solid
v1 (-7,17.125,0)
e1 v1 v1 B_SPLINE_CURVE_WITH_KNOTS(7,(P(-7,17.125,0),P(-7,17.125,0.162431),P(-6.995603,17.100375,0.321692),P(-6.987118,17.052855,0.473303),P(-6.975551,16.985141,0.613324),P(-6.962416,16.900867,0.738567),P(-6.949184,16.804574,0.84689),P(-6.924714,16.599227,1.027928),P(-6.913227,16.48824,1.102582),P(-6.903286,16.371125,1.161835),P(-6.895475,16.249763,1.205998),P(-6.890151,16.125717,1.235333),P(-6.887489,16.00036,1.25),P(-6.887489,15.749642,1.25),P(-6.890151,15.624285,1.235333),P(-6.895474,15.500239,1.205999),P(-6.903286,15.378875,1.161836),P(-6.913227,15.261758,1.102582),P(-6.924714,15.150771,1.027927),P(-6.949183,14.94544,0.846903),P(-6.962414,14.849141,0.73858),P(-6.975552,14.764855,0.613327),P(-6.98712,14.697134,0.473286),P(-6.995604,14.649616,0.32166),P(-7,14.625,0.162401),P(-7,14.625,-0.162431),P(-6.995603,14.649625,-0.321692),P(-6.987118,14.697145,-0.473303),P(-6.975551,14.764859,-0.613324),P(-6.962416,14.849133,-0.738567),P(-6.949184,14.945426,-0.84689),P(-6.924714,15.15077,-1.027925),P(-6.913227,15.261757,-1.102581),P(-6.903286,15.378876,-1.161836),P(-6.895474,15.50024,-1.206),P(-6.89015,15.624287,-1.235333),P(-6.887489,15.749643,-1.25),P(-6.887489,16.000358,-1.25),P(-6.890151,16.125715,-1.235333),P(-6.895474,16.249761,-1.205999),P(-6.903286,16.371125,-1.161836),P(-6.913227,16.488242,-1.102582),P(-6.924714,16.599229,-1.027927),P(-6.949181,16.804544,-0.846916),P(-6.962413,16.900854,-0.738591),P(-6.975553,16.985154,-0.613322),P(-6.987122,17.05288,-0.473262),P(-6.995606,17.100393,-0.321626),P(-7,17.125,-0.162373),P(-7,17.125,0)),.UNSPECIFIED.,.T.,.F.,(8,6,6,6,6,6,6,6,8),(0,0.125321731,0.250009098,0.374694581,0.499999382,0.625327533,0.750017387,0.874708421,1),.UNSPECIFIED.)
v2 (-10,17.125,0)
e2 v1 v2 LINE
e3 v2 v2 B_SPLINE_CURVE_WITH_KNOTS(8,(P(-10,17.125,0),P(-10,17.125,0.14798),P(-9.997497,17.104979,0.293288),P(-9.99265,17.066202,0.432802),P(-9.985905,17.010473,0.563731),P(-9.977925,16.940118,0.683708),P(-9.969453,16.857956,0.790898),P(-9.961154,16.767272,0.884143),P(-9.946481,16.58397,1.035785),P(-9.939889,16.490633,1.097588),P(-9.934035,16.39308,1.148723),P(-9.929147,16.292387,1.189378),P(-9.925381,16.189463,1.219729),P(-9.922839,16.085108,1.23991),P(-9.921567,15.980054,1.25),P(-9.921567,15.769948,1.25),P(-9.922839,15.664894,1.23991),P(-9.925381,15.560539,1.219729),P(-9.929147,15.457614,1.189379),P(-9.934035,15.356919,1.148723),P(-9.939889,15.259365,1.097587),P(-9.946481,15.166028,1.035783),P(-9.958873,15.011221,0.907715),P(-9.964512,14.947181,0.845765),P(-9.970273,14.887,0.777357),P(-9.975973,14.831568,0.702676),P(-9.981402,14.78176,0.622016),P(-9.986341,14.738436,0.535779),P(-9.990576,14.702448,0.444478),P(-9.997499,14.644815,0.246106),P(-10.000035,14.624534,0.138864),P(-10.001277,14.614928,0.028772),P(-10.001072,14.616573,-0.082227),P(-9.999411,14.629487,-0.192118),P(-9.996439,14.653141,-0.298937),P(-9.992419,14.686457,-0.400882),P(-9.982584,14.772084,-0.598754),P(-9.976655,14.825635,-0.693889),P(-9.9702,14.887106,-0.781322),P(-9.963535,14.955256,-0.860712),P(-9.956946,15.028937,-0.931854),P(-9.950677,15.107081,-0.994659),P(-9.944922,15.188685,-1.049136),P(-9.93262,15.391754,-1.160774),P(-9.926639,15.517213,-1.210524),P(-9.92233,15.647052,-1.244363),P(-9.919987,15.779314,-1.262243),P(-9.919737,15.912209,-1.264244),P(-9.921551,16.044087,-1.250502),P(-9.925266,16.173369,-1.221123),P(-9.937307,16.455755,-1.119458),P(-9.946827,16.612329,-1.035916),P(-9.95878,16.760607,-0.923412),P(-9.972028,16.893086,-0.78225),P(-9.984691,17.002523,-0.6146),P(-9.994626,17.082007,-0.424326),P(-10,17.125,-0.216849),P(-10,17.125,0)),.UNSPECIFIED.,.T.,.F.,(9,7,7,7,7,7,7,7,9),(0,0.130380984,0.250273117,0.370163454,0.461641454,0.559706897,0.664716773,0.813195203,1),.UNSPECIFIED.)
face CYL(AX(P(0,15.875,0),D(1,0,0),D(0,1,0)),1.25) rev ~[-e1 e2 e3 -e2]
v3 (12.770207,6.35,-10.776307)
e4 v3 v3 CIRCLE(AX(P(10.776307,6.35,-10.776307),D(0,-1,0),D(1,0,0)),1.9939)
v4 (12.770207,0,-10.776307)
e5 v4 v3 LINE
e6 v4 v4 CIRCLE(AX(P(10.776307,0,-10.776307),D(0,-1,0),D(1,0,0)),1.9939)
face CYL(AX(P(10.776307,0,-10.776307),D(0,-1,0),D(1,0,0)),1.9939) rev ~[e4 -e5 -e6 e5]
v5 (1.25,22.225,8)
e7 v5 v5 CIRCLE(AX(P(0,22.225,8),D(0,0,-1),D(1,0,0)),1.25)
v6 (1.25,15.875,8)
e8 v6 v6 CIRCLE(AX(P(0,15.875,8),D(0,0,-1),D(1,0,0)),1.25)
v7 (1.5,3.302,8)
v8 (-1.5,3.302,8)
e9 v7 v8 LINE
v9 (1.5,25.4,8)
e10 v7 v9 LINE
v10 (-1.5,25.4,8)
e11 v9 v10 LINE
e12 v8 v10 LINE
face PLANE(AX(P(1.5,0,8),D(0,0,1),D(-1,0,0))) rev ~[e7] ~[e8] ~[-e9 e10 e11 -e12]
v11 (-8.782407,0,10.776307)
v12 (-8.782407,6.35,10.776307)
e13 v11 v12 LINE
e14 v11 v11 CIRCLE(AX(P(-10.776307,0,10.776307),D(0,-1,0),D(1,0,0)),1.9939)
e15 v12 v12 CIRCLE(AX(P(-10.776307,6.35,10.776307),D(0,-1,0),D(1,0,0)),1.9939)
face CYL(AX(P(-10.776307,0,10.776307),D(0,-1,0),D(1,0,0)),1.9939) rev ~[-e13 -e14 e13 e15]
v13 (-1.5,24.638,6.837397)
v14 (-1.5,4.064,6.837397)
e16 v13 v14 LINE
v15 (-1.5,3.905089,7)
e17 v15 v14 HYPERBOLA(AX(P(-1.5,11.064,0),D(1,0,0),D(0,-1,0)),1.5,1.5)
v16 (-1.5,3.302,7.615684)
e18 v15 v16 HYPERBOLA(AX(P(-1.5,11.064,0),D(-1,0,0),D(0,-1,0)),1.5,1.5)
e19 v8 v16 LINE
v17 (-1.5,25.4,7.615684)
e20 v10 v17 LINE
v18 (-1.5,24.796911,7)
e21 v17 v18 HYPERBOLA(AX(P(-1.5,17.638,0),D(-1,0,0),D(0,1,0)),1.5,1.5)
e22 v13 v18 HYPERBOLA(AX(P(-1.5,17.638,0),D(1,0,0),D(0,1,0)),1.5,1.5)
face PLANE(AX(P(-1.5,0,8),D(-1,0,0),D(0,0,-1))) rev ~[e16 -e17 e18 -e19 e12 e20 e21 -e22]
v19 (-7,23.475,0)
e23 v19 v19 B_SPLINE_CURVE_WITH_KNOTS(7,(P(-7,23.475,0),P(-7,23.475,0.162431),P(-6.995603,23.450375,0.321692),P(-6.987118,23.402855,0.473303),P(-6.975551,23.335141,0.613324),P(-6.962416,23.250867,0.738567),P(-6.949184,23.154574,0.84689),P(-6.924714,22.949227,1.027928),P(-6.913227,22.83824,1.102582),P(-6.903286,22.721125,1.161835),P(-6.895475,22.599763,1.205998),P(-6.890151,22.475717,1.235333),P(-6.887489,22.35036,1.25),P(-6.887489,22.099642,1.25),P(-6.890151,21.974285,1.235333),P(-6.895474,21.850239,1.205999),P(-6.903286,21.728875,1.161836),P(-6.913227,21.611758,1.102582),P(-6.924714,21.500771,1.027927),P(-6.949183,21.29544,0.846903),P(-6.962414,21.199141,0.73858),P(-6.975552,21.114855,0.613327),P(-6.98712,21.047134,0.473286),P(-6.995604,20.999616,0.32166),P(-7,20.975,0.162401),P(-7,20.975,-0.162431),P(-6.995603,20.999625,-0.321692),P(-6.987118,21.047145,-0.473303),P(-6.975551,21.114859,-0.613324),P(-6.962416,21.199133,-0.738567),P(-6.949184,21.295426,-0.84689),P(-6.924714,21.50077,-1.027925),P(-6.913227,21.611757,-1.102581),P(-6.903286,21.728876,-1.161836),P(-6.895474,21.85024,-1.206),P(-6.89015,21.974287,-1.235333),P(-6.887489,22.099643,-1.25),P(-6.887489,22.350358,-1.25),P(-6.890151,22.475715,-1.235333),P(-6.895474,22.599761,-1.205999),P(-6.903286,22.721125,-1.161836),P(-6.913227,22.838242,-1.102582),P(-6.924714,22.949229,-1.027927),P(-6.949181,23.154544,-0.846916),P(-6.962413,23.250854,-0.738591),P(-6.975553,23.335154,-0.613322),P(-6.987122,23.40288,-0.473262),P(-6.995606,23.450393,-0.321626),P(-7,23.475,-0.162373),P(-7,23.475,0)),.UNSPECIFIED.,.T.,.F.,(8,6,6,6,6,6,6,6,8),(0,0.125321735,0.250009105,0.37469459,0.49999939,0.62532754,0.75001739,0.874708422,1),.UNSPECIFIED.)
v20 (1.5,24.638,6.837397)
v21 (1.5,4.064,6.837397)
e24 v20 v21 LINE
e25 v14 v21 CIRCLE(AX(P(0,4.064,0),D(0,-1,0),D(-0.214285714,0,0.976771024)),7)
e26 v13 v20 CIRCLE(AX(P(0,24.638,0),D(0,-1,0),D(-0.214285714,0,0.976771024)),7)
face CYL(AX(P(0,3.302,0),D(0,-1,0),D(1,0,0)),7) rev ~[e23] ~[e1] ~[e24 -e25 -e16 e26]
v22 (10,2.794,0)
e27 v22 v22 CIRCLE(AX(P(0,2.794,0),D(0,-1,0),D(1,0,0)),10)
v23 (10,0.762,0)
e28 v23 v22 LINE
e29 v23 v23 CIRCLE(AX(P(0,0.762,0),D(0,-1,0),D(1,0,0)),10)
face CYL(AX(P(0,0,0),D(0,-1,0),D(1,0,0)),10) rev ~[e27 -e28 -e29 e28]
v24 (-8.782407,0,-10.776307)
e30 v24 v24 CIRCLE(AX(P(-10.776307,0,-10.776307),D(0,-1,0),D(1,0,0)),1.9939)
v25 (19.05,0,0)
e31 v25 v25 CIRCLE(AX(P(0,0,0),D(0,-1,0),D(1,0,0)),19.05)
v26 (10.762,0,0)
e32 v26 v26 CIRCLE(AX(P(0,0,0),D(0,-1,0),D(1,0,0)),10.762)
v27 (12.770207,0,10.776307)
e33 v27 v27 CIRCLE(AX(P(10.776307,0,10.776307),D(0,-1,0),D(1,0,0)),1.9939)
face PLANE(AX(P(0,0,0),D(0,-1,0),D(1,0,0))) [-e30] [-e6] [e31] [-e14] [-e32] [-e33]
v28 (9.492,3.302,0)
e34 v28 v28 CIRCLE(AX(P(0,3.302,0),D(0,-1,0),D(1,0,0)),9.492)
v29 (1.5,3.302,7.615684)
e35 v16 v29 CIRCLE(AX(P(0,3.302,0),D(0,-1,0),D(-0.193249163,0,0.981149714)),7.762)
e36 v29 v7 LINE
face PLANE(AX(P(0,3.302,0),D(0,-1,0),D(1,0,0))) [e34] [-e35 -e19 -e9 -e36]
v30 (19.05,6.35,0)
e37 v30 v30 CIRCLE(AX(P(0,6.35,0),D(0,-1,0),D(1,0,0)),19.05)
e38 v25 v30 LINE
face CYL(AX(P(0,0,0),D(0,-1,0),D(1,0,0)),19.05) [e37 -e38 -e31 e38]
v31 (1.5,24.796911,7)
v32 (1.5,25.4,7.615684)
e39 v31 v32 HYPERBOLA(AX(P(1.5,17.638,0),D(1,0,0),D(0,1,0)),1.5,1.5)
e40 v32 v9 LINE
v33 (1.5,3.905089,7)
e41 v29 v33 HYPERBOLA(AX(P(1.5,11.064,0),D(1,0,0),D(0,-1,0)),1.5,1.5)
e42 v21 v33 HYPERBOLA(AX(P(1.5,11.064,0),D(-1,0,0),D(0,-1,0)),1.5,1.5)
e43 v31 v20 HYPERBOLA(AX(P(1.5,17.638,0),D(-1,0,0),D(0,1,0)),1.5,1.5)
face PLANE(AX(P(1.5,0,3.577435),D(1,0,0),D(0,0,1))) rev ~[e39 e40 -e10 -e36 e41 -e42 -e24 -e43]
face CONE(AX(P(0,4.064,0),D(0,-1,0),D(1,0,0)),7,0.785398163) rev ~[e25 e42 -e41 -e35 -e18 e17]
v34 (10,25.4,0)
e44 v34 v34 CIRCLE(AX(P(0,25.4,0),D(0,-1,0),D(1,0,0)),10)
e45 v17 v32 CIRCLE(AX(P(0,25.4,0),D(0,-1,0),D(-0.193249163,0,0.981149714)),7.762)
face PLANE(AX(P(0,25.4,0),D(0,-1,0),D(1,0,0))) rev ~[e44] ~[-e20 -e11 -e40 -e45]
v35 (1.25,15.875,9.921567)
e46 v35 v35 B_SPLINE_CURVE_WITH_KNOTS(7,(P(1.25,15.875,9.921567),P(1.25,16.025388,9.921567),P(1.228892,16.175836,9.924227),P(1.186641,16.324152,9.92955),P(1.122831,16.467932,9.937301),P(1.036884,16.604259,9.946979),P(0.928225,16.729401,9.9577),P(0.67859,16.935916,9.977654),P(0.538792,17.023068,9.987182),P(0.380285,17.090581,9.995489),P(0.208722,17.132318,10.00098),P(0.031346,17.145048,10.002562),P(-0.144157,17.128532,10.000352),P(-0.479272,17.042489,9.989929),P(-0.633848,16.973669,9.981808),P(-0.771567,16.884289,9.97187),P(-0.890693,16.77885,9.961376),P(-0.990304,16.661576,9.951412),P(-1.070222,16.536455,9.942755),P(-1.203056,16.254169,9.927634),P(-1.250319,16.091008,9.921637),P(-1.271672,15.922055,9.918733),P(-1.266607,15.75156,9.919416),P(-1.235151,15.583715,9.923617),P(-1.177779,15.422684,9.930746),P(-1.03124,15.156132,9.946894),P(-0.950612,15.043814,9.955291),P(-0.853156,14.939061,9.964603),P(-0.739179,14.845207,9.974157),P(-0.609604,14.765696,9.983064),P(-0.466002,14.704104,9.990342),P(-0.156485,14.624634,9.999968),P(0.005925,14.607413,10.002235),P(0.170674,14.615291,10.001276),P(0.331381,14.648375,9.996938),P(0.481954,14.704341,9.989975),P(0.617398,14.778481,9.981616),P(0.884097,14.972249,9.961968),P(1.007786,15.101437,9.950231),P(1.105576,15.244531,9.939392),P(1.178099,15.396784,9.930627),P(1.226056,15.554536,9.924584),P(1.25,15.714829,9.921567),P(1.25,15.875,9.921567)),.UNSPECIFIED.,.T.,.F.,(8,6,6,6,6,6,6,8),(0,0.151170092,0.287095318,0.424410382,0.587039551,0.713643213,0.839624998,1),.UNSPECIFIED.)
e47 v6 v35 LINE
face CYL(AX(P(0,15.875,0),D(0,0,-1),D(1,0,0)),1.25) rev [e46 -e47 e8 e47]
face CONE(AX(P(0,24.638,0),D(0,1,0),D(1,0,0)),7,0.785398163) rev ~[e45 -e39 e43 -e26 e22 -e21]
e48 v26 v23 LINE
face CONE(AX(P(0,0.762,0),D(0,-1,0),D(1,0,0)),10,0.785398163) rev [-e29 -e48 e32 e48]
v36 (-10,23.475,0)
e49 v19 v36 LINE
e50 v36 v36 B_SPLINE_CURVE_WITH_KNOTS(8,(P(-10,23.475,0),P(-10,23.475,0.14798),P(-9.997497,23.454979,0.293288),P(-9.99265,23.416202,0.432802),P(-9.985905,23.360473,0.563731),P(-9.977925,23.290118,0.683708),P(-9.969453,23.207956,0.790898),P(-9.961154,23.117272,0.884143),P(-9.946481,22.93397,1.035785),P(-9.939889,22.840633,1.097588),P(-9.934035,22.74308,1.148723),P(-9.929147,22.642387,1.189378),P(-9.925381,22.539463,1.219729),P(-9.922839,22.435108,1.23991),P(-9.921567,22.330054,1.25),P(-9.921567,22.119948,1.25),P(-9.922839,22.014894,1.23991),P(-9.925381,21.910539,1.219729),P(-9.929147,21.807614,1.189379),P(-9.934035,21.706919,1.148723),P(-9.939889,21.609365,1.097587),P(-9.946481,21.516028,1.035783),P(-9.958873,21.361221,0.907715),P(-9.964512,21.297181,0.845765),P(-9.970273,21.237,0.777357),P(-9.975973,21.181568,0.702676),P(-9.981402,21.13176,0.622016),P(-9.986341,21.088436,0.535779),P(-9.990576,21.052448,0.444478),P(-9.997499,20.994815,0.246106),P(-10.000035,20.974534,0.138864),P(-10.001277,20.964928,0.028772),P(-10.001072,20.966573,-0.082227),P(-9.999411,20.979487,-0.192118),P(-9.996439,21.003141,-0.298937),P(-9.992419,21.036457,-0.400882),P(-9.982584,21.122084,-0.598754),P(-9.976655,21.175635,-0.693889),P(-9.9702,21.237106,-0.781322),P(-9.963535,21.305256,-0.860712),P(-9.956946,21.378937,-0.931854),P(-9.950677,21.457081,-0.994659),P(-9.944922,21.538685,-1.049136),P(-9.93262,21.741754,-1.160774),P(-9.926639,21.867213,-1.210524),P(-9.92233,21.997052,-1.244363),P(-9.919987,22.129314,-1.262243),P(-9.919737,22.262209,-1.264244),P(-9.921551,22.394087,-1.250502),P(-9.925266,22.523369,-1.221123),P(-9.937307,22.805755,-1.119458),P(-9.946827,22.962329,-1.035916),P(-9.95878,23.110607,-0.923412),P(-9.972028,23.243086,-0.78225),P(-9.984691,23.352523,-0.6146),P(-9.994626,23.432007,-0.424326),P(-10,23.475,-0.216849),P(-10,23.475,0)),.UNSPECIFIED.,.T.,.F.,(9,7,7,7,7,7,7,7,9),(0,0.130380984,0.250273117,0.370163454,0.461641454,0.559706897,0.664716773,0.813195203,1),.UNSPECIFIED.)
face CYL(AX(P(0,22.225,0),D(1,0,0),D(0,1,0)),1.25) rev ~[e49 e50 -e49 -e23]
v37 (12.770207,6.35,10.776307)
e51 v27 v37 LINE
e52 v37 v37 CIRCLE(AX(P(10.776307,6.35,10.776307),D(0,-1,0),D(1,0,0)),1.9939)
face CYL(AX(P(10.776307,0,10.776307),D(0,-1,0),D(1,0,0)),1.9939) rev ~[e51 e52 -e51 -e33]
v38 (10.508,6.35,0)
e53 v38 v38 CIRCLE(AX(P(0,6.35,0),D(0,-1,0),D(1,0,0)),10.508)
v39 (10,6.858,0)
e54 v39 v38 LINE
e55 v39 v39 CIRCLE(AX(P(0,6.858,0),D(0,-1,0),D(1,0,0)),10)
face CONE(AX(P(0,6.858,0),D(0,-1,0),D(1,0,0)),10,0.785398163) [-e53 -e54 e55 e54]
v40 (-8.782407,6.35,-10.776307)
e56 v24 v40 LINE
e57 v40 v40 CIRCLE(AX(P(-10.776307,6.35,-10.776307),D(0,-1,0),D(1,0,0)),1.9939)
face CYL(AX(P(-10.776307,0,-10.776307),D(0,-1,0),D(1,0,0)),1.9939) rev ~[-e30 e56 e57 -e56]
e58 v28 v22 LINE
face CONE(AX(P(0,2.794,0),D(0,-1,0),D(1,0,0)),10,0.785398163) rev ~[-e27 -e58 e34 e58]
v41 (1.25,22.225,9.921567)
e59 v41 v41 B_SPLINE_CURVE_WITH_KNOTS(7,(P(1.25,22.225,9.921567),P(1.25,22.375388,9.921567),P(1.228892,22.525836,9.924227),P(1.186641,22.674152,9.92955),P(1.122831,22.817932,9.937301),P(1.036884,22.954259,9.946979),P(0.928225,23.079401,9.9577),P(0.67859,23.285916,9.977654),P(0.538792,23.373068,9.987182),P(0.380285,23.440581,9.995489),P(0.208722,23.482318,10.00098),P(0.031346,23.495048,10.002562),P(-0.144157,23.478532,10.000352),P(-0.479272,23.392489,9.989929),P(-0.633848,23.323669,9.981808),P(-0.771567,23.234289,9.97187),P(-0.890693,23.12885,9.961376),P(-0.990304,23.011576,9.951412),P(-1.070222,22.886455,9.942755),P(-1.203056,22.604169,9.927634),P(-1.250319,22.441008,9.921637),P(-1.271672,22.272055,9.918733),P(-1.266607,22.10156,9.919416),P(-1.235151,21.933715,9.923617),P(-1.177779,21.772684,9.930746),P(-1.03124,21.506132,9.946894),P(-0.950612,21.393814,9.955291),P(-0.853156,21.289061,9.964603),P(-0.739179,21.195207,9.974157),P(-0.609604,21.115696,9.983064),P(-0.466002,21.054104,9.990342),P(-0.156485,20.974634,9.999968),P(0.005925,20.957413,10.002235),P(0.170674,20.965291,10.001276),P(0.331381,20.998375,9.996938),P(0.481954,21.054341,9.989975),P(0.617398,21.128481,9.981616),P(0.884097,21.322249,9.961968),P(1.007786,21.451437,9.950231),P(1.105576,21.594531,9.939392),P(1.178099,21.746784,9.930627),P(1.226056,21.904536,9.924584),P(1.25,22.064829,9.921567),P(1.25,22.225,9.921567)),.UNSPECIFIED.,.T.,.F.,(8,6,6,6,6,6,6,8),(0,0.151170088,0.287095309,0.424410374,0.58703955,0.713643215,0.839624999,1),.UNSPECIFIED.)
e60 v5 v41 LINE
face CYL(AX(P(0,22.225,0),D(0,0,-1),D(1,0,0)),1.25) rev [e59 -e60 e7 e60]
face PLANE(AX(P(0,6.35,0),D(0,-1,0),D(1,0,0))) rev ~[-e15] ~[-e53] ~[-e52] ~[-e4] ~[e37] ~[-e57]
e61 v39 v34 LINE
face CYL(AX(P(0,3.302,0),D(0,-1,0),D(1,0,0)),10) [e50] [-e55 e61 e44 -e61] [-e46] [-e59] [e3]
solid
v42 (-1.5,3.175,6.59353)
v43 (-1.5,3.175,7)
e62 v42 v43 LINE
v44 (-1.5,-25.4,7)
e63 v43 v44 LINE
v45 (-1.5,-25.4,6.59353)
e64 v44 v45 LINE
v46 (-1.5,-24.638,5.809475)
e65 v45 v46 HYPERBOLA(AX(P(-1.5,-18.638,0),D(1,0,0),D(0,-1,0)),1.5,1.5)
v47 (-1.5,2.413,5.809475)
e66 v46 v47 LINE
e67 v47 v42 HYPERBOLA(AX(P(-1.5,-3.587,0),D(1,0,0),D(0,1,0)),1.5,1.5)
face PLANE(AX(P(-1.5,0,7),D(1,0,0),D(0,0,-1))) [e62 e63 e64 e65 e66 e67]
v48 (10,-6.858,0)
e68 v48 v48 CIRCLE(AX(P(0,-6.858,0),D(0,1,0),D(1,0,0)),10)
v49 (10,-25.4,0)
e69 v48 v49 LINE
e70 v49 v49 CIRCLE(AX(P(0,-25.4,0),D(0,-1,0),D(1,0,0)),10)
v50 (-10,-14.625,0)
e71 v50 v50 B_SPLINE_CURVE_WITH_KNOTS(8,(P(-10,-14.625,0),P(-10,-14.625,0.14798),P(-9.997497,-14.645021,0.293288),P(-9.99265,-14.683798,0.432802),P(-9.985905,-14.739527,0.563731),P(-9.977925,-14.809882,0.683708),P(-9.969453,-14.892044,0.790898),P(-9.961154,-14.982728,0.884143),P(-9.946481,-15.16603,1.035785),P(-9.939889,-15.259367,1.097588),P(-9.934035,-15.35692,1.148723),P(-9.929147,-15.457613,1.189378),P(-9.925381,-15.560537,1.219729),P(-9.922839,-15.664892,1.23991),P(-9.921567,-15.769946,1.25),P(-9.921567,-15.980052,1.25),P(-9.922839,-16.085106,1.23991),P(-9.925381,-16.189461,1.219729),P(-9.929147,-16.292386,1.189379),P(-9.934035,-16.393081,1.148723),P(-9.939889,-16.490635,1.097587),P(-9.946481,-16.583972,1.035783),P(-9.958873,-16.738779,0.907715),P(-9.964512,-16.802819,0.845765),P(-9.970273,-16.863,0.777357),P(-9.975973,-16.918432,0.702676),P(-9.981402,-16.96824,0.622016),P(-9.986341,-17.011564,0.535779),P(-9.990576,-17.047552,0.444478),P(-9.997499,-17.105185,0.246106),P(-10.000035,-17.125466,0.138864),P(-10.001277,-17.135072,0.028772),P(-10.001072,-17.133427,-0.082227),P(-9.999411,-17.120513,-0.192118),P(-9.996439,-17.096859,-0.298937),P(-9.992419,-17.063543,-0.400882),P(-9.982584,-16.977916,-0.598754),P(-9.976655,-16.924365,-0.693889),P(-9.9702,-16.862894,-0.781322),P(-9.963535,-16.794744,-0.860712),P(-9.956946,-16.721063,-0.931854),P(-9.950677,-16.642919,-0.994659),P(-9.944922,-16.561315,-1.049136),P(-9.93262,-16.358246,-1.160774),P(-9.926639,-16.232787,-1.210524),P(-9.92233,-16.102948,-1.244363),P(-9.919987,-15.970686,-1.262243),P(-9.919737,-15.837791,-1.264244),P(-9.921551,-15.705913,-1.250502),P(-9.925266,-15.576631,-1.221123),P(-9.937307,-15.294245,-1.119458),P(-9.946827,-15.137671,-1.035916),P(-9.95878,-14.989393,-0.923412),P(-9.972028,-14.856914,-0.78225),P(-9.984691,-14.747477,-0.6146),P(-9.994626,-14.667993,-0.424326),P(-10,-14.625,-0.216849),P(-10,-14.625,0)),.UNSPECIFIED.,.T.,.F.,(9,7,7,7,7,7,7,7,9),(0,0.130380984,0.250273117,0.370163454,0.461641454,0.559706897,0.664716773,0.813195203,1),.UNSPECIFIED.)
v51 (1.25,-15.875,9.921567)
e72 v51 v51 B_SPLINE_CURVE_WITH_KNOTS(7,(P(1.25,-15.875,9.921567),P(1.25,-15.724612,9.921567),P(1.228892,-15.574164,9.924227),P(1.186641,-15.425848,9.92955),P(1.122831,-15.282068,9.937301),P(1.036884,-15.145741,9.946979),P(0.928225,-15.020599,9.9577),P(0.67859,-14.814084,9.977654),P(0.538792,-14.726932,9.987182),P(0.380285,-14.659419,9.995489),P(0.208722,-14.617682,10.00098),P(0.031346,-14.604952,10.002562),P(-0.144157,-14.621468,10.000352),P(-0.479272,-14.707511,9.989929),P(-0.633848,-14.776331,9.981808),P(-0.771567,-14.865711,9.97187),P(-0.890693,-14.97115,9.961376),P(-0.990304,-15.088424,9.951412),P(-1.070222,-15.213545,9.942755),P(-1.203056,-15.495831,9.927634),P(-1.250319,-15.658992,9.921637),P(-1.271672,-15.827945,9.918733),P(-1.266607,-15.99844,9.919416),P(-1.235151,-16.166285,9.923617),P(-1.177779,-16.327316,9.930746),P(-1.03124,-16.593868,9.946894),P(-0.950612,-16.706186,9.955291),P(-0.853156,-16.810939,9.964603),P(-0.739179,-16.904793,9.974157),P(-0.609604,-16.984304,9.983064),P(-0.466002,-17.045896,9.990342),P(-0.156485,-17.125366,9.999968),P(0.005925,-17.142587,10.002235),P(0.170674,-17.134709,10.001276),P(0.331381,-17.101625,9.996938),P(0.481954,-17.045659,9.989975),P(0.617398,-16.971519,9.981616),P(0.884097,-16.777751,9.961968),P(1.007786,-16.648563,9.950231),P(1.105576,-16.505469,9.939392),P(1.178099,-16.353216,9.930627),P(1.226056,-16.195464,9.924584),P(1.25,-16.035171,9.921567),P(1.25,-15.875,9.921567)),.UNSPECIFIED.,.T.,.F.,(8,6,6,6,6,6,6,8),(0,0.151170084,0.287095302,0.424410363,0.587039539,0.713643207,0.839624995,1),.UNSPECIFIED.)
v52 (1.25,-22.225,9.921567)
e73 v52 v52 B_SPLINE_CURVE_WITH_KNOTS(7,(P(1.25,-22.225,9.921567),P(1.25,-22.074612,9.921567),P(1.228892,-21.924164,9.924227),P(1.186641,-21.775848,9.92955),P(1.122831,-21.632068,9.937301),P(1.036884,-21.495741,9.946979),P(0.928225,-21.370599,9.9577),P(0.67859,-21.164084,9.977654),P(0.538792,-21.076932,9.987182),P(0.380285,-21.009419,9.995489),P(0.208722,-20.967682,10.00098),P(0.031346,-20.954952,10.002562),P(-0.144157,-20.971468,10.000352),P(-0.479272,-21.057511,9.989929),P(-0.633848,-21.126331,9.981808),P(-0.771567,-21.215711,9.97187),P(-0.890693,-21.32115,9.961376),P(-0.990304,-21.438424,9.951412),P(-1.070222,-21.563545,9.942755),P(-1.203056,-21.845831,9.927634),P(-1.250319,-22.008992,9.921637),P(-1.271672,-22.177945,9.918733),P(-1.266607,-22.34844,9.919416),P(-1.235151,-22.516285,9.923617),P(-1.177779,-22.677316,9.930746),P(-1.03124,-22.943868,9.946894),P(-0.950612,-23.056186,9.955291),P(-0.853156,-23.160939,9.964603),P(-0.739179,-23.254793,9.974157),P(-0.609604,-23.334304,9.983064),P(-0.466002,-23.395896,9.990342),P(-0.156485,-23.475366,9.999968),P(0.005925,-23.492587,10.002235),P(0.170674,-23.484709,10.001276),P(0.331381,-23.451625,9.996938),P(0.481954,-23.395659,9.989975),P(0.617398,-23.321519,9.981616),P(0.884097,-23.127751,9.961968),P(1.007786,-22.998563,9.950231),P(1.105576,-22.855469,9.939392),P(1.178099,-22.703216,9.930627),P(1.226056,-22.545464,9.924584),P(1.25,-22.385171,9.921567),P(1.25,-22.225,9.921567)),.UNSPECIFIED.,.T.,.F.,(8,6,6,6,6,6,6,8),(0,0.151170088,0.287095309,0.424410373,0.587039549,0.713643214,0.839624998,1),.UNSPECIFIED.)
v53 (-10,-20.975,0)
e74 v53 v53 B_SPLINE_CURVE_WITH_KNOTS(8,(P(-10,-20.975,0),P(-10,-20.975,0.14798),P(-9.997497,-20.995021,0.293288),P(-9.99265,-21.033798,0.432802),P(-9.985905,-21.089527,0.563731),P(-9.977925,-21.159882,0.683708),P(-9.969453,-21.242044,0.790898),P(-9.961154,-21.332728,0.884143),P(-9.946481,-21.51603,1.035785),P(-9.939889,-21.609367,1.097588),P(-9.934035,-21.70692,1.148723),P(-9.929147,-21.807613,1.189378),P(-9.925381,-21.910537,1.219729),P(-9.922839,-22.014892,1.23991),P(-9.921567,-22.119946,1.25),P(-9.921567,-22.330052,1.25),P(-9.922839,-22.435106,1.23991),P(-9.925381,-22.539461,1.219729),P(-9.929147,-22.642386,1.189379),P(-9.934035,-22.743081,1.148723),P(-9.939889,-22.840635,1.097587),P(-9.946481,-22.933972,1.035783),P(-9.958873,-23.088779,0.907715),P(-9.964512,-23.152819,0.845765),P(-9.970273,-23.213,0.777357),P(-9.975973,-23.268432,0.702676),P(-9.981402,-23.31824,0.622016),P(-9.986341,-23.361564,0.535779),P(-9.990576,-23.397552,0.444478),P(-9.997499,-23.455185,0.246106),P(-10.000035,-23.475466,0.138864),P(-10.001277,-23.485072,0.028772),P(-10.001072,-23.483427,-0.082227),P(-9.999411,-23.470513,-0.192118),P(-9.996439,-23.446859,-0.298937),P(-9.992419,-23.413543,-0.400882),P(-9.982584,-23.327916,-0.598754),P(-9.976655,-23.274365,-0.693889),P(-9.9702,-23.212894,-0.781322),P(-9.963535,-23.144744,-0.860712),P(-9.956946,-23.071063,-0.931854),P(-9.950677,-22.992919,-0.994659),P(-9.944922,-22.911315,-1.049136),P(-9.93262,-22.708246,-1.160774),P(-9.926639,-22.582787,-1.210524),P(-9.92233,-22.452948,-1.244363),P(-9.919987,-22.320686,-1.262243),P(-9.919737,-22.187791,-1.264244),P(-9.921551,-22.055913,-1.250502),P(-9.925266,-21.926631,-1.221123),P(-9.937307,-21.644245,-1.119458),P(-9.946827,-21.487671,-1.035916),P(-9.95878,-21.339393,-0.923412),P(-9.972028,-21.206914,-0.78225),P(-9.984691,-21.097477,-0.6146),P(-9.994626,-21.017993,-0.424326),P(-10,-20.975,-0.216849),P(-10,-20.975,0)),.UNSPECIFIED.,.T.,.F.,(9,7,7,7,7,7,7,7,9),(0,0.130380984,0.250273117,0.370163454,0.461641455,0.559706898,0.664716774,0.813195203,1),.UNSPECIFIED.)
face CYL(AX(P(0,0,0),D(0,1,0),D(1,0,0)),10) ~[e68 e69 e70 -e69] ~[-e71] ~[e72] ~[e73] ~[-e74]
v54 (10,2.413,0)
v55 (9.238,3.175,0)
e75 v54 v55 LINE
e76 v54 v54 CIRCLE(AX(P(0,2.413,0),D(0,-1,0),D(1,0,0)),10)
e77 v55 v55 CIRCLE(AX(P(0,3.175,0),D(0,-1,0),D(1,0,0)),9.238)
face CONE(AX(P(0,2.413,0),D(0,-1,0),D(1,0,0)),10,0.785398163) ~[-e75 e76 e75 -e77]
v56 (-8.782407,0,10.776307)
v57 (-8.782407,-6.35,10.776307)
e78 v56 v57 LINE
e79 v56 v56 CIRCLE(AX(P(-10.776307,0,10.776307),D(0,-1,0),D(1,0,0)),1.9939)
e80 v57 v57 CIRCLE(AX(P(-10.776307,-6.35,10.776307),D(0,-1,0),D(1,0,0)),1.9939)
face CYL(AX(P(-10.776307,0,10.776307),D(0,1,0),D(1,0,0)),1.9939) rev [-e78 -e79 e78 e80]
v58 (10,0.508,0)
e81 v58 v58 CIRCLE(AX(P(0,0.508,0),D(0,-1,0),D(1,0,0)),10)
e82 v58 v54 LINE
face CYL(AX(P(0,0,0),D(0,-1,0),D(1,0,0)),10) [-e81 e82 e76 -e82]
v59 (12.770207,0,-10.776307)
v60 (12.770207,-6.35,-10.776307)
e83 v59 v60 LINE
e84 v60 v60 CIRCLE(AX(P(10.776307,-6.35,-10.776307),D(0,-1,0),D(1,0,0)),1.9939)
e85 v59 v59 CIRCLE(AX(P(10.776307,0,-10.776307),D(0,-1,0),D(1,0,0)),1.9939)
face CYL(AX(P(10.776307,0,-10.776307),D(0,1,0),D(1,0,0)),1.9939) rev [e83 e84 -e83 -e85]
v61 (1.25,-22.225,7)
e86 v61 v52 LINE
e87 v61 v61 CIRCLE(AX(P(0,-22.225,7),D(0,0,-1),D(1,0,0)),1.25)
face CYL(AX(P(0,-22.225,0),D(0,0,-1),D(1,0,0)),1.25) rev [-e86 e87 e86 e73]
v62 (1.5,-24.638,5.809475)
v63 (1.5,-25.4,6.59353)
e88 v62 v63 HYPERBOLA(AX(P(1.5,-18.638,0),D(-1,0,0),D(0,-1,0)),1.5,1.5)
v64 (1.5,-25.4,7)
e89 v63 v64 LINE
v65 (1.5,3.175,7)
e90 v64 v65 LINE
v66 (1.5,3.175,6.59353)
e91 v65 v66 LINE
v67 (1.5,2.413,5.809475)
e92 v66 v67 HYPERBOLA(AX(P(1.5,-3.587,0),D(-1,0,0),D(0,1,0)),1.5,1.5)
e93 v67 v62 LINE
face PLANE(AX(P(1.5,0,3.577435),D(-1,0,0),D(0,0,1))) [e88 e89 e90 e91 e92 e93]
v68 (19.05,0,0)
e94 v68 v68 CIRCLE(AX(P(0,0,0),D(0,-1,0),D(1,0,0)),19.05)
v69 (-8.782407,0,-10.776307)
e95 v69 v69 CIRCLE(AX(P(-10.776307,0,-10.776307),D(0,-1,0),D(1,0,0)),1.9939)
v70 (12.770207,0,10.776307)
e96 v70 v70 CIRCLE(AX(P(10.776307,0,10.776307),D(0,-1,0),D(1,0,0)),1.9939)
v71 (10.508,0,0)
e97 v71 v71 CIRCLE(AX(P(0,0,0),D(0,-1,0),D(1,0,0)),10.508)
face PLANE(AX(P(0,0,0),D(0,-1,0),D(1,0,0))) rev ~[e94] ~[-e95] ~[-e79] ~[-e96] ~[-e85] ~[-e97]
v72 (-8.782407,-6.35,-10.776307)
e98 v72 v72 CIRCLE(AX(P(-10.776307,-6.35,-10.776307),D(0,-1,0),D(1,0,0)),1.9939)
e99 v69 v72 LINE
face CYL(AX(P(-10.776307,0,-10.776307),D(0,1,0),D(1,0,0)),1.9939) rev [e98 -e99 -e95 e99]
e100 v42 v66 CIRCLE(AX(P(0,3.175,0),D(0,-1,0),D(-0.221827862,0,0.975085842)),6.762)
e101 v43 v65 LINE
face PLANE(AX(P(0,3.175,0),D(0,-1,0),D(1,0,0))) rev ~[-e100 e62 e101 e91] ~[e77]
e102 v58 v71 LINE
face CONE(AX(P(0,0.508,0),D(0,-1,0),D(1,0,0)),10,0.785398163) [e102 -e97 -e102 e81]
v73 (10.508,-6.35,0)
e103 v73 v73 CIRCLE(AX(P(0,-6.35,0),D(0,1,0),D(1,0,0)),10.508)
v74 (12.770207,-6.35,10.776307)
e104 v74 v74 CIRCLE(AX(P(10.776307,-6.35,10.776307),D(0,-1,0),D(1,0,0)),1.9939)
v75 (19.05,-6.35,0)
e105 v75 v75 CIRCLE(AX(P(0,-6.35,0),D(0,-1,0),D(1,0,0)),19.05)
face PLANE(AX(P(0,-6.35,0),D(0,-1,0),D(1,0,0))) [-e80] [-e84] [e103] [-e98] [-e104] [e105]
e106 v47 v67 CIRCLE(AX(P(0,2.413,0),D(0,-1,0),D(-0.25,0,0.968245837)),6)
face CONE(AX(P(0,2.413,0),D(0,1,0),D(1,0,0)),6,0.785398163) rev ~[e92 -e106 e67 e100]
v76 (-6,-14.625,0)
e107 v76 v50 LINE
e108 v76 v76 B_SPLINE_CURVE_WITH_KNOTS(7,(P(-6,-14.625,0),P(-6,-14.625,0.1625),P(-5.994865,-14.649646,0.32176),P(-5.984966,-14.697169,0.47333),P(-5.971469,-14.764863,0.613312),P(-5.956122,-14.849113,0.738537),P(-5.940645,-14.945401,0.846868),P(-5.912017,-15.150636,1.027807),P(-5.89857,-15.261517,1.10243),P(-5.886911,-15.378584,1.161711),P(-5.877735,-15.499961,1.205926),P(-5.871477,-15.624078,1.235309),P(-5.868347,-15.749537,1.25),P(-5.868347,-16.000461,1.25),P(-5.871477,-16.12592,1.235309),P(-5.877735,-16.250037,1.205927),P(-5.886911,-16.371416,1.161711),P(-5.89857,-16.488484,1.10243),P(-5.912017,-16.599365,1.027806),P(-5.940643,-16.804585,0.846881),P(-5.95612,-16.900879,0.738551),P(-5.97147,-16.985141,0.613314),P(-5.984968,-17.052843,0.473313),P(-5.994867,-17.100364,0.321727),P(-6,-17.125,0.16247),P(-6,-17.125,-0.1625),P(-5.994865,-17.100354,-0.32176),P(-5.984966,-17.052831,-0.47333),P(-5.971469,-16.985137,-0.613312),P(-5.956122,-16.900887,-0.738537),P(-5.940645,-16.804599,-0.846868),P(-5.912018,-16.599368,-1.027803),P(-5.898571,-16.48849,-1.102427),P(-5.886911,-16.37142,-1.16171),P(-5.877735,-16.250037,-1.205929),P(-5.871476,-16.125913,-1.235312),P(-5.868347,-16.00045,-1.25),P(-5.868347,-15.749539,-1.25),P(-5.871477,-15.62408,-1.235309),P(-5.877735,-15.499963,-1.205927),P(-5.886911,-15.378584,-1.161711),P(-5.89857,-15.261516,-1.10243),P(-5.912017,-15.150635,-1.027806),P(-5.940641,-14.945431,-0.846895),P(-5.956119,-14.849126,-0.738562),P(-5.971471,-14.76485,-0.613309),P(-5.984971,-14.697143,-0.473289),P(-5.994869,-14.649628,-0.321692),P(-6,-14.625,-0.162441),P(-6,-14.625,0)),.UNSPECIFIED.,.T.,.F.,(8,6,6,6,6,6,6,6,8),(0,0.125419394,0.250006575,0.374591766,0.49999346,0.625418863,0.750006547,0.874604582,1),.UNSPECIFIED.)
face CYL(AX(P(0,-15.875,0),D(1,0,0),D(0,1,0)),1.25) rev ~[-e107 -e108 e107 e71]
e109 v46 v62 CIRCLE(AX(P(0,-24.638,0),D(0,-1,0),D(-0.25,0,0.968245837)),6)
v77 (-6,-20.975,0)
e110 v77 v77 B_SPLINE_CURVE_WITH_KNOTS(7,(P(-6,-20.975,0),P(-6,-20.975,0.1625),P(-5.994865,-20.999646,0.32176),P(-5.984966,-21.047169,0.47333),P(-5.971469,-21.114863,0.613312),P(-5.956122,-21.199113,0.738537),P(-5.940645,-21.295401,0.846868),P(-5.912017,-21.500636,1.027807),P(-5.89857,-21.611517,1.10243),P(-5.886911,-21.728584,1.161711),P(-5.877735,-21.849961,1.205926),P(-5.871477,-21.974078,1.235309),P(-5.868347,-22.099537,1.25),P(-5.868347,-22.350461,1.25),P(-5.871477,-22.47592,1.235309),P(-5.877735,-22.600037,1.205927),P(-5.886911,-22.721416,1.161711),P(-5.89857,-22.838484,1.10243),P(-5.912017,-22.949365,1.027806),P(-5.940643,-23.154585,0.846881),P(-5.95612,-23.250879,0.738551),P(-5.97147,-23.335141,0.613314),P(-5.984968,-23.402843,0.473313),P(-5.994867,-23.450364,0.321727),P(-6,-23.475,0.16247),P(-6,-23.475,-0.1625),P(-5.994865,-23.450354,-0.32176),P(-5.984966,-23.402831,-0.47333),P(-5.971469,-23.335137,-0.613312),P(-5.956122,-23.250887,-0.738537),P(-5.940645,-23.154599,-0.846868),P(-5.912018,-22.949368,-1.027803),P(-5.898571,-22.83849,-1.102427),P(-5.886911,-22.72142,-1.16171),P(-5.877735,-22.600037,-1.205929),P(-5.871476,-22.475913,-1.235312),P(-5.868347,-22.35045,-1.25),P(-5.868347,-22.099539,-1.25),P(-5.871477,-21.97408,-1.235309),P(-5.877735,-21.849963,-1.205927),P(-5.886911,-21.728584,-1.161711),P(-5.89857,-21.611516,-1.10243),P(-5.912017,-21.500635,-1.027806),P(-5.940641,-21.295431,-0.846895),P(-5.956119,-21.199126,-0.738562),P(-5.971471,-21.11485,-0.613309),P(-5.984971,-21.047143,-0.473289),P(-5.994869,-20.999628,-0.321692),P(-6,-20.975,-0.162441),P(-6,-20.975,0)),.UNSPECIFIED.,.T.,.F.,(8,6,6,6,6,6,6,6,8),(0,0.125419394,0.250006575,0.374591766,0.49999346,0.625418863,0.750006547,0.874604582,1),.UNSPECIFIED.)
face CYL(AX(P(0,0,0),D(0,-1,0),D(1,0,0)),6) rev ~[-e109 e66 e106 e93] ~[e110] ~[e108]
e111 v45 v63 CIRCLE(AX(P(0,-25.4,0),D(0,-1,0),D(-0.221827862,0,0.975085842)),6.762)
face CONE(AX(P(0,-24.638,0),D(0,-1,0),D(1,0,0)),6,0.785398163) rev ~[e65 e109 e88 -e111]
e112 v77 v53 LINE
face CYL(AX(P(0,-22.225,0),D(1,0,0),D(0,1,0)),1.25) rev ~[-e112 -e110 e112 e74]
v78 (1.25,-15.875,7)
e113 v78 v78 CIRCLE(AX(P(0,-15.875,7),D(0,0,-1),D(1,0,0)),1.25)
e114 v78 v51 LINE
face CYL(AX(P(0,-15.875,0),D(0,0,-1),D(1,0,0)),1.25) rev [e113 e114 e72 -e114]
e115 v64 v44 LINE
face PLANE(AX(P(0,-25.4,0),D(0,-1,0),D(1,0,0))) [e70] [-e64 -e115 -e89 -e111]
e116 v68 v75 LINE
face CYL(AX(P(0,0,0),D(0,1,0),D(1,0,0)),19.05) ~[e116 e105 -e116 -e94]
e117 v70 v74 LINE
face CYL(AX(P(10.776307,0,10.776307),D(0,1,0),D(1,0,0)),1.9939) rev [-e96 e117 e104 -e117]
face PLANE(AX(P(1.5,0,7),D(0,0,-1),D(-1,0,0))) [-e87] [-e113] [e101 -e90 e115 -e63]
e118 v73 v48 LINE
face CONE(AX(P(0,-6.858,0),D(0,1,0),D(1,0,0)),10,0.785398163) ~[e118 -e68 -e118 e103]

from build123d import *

# Parameters (mm, degrees)
F0_R          = 19.05
F0_R_2        = 1.9939
F0_R_3        = 10
F0_R_4        = 7
F2_DEPTH      = 6.35
F0_R_5        = 6
F3_DEPTH      = 25.4
F3_DEPTH_BACK = 3.175
F4_DEPTH      = 6.35
F5_START      = -3.302
F5_DEPTH      = 22.098
F6_SIZE       = 0.508
F6_2_SIZE     = 0.508
F7_SIZE       = 0.762
F7_2_SIZE     = 0.762
F8_DEPTH      = 25.4
F8_DEPTH_BACK = 25.4
F9_DEPTH      = 25.4
F10_R         = 1.25
F12_DEPTH     = 25.4
F11_R         = 1.25
F13_DEPTH     = 25.4


with BuildPart() as f2:
    # F0 (on Front) → F2 (new body)
    with BuildSketch(Plane.XZ):
        Circle(F0_R)
        with Locations((-10.7763073453, -10.7763073453)):
            Circle(F0_R_2, mode=Mode.SUBTRACT)
        with Locations((10.7763073453, -10.7763073453)):
            Circle(F0_R_2, mode=Mode.SUBTRACT)
        with Locations((-10.7763073453, 10.7763073453)):
            Circle(F0_R_2, mode=Mode.SUBTRACT)
        Circle(F0_R_3, mode=Mode.SUBTRACT)
        with Locations((10.7763073453, 10.7763073453)):
            Circle(F0_R_2, mode=Mode.SUBTRACT)
        Circle(F0_R_3)
        Circle(F0_R_4, mode=Mode.SUBTRACT)
    extrude(amount=F2_DEPTH)

    # F0 (on Front) → F3 (join, two sides)
    with BuildSketch(Plane.XZ) as f3_sk:
        Circle(F0_R_3)
        Circle(F0_R_4, mode=Mode.SUBTRACT)
        Circle(F0_R_4)
        Circle(F0_R_5, mode=Mode.SUBTRACT)
    extrude(amount=F3_DEPTH)
    extrude(f3_sk.sketch, amount=-F3_DEPTH_BACK)

    # F6
    f6_edges = [f2.edges().sort_by_distance(p)[0] for p in [
        (-10, -6.35, 0),
        (-10, 0, 0),
    ]]
    chamfer(f6_edges, length=F6_SIZE)

    # F7#2
    f7_2_edges = [f2.edges().sort_by_distance(p)[0] for p in [
        (-6, -25.4, 0),
        (-6, 3.175, 0),
        (-10, 3.175, 0),
    ]]
    chamfer(f7_2_edges, length=F7_2_SIZE)


with BuildPart() as f4:
    # F0 (on Front) → F4 (new body)
    with BuildSketch(Plane.XZ):
        Circle(F0_R)
        with Locations((-10.7763073453, -10.7763073453)):
            Circle(F0_R_2, mode=Mode.SUBTRACT)
        with Locations((10.7763073453, -10.7763073453)):
            Circle(F0_R_2, mode=Mode.SUBTRACT)
        with Locations((-10.7763073453, 10.7763073453)):
            Circle(F0_R_2, mode=Mode.SUBTRACT)
        Circle(F0_R_3, mode=Mode.SUBTRACT)
        with Locations((10.7763073453, 10.7763073453)):
            Circle(F0_R_2, mode=Mode.SUBTRACT)
    extrude(amount=-F4_DEPTH)

    # F0 (on Front) → F5 (join)
    with BuildSketch(Plane.XZ.offset(F5_START)):
        Circle(F0_R_3)
        Circle(F0_R_4, mode=Mode.SUBTRACT)
    extrude(amount=-F5_DEPTH)

    # F6#2
    f6_2_edges = [f4.edges().sort_by_distance(p)[0] for p in [
        (-10, 6.35, 0),
        (-10, 3.302, 0),
    ]]
    chamfer(f6_2_edges, length=F6_2_SIZE)

    # F7
    f7_edges = [f4.edges().sort_by_distance(p)[0] for p in [
        (-10, 0, 0),
        (-7, 25.4, 0),
        (-7, 3.302, 0),
    ]]
    chamfer(f7_edges, length=F7_SIZE)


with BuildPart() as f8_tool:
    # F1 (on Front) → F8 (new body, two sides)
    with BuildSketch(Plane.XZ) as f8_sk:
        Polygon((1.5, 7), (-1.5, 7), (-1.5, 3.5774347728), (0, 3.5774347728), (1.5, 3.5774347728), align=None)
    extrude(amount=-F8_DEPTH)
    extrude(f8_sk.sketch, amount=F8_DEPTH_BACK)


with BuildPart() as f2_1:
    add(f2.part)

    # F8: cut by f8_tool
    add(f8_tool.part, mode=Mode.SUBTRACT)


with BuildPart() as f4_1:
    add(f4.part)

    # F8: cut by f8_tool
    add(f8_tool.part, mode=Mode.SUBTRACT)

    # F1 (on Front) → F9 (cut)
    with BuildSketch(Plane.XZ):
        Polygon((1.5, 7), (-1.5, 7), (-1.5, 3.5774347728), (0, 3.5774347728), (1.5, 3.5774347728), align=None)
        Polygon((1.5, 8), (0, 8), (-1.5, 8), (-1.5, 7), (1.5, 7), align=None)
    extrude(amount=-F9_DEPTH, mode=Mode.SUBTRACT)


with BuildPart() as f12_tool:
    # F10 (on Top) → F12 (new body)
    with BuildSketch(Plane.XY):
        with Locations((0, 15.875)):
            Circle(F10_R)
        with Locations((0, 22.225)):
            Circle(F10_R)
        with Locations((0, -15.875)):
            Circle(F10_R)
        with Locations((0, -22.225)):
            Circle(F10_R)
    extrude(amount=F12_DEPTH)


with BuildPart() as f2_2:
    add(f2_1.part)

    # F12: cut by f12_tool
    add(f12_tool.part, mode=Mode.SUBTRACT)


with BuildPart() as f4_2:
    add(f4_1.part)

    # F12: cut by f12_tool
    add(f12_tool.part, mode=Mode.SUBTRACT)


with BuildPart() as f13_tool:
    # F11 (on Right) → F13 (new body)
    with BuildSketch(Plane.YZ):
        with Locations((-22.225, 0)):
            Circle(F11_R)
        with Locations((-15.875, 0)):
            Circle(F11_R)
        with Locations((15.875, 0)):
            Circle(F11_R)
        with Locations((22.225, 0)):
            Circle(F11_R)
    extrude(amount=-F13_DEPTH)


with BuildPart() as f2_3:
    add(f2_2.part)

    # F13: cut by f13_tool
    add(f13_tool.part, mode=Mode.SUBTRACT)


with BuildPart() as f4_3:
    add(f4_2.part)

    # F13: cut by f13_tool
    add(f13_tool.part, mode=Mode.SUBTRACT)


solid = Compound([f2_3.part, f4_3.part])
